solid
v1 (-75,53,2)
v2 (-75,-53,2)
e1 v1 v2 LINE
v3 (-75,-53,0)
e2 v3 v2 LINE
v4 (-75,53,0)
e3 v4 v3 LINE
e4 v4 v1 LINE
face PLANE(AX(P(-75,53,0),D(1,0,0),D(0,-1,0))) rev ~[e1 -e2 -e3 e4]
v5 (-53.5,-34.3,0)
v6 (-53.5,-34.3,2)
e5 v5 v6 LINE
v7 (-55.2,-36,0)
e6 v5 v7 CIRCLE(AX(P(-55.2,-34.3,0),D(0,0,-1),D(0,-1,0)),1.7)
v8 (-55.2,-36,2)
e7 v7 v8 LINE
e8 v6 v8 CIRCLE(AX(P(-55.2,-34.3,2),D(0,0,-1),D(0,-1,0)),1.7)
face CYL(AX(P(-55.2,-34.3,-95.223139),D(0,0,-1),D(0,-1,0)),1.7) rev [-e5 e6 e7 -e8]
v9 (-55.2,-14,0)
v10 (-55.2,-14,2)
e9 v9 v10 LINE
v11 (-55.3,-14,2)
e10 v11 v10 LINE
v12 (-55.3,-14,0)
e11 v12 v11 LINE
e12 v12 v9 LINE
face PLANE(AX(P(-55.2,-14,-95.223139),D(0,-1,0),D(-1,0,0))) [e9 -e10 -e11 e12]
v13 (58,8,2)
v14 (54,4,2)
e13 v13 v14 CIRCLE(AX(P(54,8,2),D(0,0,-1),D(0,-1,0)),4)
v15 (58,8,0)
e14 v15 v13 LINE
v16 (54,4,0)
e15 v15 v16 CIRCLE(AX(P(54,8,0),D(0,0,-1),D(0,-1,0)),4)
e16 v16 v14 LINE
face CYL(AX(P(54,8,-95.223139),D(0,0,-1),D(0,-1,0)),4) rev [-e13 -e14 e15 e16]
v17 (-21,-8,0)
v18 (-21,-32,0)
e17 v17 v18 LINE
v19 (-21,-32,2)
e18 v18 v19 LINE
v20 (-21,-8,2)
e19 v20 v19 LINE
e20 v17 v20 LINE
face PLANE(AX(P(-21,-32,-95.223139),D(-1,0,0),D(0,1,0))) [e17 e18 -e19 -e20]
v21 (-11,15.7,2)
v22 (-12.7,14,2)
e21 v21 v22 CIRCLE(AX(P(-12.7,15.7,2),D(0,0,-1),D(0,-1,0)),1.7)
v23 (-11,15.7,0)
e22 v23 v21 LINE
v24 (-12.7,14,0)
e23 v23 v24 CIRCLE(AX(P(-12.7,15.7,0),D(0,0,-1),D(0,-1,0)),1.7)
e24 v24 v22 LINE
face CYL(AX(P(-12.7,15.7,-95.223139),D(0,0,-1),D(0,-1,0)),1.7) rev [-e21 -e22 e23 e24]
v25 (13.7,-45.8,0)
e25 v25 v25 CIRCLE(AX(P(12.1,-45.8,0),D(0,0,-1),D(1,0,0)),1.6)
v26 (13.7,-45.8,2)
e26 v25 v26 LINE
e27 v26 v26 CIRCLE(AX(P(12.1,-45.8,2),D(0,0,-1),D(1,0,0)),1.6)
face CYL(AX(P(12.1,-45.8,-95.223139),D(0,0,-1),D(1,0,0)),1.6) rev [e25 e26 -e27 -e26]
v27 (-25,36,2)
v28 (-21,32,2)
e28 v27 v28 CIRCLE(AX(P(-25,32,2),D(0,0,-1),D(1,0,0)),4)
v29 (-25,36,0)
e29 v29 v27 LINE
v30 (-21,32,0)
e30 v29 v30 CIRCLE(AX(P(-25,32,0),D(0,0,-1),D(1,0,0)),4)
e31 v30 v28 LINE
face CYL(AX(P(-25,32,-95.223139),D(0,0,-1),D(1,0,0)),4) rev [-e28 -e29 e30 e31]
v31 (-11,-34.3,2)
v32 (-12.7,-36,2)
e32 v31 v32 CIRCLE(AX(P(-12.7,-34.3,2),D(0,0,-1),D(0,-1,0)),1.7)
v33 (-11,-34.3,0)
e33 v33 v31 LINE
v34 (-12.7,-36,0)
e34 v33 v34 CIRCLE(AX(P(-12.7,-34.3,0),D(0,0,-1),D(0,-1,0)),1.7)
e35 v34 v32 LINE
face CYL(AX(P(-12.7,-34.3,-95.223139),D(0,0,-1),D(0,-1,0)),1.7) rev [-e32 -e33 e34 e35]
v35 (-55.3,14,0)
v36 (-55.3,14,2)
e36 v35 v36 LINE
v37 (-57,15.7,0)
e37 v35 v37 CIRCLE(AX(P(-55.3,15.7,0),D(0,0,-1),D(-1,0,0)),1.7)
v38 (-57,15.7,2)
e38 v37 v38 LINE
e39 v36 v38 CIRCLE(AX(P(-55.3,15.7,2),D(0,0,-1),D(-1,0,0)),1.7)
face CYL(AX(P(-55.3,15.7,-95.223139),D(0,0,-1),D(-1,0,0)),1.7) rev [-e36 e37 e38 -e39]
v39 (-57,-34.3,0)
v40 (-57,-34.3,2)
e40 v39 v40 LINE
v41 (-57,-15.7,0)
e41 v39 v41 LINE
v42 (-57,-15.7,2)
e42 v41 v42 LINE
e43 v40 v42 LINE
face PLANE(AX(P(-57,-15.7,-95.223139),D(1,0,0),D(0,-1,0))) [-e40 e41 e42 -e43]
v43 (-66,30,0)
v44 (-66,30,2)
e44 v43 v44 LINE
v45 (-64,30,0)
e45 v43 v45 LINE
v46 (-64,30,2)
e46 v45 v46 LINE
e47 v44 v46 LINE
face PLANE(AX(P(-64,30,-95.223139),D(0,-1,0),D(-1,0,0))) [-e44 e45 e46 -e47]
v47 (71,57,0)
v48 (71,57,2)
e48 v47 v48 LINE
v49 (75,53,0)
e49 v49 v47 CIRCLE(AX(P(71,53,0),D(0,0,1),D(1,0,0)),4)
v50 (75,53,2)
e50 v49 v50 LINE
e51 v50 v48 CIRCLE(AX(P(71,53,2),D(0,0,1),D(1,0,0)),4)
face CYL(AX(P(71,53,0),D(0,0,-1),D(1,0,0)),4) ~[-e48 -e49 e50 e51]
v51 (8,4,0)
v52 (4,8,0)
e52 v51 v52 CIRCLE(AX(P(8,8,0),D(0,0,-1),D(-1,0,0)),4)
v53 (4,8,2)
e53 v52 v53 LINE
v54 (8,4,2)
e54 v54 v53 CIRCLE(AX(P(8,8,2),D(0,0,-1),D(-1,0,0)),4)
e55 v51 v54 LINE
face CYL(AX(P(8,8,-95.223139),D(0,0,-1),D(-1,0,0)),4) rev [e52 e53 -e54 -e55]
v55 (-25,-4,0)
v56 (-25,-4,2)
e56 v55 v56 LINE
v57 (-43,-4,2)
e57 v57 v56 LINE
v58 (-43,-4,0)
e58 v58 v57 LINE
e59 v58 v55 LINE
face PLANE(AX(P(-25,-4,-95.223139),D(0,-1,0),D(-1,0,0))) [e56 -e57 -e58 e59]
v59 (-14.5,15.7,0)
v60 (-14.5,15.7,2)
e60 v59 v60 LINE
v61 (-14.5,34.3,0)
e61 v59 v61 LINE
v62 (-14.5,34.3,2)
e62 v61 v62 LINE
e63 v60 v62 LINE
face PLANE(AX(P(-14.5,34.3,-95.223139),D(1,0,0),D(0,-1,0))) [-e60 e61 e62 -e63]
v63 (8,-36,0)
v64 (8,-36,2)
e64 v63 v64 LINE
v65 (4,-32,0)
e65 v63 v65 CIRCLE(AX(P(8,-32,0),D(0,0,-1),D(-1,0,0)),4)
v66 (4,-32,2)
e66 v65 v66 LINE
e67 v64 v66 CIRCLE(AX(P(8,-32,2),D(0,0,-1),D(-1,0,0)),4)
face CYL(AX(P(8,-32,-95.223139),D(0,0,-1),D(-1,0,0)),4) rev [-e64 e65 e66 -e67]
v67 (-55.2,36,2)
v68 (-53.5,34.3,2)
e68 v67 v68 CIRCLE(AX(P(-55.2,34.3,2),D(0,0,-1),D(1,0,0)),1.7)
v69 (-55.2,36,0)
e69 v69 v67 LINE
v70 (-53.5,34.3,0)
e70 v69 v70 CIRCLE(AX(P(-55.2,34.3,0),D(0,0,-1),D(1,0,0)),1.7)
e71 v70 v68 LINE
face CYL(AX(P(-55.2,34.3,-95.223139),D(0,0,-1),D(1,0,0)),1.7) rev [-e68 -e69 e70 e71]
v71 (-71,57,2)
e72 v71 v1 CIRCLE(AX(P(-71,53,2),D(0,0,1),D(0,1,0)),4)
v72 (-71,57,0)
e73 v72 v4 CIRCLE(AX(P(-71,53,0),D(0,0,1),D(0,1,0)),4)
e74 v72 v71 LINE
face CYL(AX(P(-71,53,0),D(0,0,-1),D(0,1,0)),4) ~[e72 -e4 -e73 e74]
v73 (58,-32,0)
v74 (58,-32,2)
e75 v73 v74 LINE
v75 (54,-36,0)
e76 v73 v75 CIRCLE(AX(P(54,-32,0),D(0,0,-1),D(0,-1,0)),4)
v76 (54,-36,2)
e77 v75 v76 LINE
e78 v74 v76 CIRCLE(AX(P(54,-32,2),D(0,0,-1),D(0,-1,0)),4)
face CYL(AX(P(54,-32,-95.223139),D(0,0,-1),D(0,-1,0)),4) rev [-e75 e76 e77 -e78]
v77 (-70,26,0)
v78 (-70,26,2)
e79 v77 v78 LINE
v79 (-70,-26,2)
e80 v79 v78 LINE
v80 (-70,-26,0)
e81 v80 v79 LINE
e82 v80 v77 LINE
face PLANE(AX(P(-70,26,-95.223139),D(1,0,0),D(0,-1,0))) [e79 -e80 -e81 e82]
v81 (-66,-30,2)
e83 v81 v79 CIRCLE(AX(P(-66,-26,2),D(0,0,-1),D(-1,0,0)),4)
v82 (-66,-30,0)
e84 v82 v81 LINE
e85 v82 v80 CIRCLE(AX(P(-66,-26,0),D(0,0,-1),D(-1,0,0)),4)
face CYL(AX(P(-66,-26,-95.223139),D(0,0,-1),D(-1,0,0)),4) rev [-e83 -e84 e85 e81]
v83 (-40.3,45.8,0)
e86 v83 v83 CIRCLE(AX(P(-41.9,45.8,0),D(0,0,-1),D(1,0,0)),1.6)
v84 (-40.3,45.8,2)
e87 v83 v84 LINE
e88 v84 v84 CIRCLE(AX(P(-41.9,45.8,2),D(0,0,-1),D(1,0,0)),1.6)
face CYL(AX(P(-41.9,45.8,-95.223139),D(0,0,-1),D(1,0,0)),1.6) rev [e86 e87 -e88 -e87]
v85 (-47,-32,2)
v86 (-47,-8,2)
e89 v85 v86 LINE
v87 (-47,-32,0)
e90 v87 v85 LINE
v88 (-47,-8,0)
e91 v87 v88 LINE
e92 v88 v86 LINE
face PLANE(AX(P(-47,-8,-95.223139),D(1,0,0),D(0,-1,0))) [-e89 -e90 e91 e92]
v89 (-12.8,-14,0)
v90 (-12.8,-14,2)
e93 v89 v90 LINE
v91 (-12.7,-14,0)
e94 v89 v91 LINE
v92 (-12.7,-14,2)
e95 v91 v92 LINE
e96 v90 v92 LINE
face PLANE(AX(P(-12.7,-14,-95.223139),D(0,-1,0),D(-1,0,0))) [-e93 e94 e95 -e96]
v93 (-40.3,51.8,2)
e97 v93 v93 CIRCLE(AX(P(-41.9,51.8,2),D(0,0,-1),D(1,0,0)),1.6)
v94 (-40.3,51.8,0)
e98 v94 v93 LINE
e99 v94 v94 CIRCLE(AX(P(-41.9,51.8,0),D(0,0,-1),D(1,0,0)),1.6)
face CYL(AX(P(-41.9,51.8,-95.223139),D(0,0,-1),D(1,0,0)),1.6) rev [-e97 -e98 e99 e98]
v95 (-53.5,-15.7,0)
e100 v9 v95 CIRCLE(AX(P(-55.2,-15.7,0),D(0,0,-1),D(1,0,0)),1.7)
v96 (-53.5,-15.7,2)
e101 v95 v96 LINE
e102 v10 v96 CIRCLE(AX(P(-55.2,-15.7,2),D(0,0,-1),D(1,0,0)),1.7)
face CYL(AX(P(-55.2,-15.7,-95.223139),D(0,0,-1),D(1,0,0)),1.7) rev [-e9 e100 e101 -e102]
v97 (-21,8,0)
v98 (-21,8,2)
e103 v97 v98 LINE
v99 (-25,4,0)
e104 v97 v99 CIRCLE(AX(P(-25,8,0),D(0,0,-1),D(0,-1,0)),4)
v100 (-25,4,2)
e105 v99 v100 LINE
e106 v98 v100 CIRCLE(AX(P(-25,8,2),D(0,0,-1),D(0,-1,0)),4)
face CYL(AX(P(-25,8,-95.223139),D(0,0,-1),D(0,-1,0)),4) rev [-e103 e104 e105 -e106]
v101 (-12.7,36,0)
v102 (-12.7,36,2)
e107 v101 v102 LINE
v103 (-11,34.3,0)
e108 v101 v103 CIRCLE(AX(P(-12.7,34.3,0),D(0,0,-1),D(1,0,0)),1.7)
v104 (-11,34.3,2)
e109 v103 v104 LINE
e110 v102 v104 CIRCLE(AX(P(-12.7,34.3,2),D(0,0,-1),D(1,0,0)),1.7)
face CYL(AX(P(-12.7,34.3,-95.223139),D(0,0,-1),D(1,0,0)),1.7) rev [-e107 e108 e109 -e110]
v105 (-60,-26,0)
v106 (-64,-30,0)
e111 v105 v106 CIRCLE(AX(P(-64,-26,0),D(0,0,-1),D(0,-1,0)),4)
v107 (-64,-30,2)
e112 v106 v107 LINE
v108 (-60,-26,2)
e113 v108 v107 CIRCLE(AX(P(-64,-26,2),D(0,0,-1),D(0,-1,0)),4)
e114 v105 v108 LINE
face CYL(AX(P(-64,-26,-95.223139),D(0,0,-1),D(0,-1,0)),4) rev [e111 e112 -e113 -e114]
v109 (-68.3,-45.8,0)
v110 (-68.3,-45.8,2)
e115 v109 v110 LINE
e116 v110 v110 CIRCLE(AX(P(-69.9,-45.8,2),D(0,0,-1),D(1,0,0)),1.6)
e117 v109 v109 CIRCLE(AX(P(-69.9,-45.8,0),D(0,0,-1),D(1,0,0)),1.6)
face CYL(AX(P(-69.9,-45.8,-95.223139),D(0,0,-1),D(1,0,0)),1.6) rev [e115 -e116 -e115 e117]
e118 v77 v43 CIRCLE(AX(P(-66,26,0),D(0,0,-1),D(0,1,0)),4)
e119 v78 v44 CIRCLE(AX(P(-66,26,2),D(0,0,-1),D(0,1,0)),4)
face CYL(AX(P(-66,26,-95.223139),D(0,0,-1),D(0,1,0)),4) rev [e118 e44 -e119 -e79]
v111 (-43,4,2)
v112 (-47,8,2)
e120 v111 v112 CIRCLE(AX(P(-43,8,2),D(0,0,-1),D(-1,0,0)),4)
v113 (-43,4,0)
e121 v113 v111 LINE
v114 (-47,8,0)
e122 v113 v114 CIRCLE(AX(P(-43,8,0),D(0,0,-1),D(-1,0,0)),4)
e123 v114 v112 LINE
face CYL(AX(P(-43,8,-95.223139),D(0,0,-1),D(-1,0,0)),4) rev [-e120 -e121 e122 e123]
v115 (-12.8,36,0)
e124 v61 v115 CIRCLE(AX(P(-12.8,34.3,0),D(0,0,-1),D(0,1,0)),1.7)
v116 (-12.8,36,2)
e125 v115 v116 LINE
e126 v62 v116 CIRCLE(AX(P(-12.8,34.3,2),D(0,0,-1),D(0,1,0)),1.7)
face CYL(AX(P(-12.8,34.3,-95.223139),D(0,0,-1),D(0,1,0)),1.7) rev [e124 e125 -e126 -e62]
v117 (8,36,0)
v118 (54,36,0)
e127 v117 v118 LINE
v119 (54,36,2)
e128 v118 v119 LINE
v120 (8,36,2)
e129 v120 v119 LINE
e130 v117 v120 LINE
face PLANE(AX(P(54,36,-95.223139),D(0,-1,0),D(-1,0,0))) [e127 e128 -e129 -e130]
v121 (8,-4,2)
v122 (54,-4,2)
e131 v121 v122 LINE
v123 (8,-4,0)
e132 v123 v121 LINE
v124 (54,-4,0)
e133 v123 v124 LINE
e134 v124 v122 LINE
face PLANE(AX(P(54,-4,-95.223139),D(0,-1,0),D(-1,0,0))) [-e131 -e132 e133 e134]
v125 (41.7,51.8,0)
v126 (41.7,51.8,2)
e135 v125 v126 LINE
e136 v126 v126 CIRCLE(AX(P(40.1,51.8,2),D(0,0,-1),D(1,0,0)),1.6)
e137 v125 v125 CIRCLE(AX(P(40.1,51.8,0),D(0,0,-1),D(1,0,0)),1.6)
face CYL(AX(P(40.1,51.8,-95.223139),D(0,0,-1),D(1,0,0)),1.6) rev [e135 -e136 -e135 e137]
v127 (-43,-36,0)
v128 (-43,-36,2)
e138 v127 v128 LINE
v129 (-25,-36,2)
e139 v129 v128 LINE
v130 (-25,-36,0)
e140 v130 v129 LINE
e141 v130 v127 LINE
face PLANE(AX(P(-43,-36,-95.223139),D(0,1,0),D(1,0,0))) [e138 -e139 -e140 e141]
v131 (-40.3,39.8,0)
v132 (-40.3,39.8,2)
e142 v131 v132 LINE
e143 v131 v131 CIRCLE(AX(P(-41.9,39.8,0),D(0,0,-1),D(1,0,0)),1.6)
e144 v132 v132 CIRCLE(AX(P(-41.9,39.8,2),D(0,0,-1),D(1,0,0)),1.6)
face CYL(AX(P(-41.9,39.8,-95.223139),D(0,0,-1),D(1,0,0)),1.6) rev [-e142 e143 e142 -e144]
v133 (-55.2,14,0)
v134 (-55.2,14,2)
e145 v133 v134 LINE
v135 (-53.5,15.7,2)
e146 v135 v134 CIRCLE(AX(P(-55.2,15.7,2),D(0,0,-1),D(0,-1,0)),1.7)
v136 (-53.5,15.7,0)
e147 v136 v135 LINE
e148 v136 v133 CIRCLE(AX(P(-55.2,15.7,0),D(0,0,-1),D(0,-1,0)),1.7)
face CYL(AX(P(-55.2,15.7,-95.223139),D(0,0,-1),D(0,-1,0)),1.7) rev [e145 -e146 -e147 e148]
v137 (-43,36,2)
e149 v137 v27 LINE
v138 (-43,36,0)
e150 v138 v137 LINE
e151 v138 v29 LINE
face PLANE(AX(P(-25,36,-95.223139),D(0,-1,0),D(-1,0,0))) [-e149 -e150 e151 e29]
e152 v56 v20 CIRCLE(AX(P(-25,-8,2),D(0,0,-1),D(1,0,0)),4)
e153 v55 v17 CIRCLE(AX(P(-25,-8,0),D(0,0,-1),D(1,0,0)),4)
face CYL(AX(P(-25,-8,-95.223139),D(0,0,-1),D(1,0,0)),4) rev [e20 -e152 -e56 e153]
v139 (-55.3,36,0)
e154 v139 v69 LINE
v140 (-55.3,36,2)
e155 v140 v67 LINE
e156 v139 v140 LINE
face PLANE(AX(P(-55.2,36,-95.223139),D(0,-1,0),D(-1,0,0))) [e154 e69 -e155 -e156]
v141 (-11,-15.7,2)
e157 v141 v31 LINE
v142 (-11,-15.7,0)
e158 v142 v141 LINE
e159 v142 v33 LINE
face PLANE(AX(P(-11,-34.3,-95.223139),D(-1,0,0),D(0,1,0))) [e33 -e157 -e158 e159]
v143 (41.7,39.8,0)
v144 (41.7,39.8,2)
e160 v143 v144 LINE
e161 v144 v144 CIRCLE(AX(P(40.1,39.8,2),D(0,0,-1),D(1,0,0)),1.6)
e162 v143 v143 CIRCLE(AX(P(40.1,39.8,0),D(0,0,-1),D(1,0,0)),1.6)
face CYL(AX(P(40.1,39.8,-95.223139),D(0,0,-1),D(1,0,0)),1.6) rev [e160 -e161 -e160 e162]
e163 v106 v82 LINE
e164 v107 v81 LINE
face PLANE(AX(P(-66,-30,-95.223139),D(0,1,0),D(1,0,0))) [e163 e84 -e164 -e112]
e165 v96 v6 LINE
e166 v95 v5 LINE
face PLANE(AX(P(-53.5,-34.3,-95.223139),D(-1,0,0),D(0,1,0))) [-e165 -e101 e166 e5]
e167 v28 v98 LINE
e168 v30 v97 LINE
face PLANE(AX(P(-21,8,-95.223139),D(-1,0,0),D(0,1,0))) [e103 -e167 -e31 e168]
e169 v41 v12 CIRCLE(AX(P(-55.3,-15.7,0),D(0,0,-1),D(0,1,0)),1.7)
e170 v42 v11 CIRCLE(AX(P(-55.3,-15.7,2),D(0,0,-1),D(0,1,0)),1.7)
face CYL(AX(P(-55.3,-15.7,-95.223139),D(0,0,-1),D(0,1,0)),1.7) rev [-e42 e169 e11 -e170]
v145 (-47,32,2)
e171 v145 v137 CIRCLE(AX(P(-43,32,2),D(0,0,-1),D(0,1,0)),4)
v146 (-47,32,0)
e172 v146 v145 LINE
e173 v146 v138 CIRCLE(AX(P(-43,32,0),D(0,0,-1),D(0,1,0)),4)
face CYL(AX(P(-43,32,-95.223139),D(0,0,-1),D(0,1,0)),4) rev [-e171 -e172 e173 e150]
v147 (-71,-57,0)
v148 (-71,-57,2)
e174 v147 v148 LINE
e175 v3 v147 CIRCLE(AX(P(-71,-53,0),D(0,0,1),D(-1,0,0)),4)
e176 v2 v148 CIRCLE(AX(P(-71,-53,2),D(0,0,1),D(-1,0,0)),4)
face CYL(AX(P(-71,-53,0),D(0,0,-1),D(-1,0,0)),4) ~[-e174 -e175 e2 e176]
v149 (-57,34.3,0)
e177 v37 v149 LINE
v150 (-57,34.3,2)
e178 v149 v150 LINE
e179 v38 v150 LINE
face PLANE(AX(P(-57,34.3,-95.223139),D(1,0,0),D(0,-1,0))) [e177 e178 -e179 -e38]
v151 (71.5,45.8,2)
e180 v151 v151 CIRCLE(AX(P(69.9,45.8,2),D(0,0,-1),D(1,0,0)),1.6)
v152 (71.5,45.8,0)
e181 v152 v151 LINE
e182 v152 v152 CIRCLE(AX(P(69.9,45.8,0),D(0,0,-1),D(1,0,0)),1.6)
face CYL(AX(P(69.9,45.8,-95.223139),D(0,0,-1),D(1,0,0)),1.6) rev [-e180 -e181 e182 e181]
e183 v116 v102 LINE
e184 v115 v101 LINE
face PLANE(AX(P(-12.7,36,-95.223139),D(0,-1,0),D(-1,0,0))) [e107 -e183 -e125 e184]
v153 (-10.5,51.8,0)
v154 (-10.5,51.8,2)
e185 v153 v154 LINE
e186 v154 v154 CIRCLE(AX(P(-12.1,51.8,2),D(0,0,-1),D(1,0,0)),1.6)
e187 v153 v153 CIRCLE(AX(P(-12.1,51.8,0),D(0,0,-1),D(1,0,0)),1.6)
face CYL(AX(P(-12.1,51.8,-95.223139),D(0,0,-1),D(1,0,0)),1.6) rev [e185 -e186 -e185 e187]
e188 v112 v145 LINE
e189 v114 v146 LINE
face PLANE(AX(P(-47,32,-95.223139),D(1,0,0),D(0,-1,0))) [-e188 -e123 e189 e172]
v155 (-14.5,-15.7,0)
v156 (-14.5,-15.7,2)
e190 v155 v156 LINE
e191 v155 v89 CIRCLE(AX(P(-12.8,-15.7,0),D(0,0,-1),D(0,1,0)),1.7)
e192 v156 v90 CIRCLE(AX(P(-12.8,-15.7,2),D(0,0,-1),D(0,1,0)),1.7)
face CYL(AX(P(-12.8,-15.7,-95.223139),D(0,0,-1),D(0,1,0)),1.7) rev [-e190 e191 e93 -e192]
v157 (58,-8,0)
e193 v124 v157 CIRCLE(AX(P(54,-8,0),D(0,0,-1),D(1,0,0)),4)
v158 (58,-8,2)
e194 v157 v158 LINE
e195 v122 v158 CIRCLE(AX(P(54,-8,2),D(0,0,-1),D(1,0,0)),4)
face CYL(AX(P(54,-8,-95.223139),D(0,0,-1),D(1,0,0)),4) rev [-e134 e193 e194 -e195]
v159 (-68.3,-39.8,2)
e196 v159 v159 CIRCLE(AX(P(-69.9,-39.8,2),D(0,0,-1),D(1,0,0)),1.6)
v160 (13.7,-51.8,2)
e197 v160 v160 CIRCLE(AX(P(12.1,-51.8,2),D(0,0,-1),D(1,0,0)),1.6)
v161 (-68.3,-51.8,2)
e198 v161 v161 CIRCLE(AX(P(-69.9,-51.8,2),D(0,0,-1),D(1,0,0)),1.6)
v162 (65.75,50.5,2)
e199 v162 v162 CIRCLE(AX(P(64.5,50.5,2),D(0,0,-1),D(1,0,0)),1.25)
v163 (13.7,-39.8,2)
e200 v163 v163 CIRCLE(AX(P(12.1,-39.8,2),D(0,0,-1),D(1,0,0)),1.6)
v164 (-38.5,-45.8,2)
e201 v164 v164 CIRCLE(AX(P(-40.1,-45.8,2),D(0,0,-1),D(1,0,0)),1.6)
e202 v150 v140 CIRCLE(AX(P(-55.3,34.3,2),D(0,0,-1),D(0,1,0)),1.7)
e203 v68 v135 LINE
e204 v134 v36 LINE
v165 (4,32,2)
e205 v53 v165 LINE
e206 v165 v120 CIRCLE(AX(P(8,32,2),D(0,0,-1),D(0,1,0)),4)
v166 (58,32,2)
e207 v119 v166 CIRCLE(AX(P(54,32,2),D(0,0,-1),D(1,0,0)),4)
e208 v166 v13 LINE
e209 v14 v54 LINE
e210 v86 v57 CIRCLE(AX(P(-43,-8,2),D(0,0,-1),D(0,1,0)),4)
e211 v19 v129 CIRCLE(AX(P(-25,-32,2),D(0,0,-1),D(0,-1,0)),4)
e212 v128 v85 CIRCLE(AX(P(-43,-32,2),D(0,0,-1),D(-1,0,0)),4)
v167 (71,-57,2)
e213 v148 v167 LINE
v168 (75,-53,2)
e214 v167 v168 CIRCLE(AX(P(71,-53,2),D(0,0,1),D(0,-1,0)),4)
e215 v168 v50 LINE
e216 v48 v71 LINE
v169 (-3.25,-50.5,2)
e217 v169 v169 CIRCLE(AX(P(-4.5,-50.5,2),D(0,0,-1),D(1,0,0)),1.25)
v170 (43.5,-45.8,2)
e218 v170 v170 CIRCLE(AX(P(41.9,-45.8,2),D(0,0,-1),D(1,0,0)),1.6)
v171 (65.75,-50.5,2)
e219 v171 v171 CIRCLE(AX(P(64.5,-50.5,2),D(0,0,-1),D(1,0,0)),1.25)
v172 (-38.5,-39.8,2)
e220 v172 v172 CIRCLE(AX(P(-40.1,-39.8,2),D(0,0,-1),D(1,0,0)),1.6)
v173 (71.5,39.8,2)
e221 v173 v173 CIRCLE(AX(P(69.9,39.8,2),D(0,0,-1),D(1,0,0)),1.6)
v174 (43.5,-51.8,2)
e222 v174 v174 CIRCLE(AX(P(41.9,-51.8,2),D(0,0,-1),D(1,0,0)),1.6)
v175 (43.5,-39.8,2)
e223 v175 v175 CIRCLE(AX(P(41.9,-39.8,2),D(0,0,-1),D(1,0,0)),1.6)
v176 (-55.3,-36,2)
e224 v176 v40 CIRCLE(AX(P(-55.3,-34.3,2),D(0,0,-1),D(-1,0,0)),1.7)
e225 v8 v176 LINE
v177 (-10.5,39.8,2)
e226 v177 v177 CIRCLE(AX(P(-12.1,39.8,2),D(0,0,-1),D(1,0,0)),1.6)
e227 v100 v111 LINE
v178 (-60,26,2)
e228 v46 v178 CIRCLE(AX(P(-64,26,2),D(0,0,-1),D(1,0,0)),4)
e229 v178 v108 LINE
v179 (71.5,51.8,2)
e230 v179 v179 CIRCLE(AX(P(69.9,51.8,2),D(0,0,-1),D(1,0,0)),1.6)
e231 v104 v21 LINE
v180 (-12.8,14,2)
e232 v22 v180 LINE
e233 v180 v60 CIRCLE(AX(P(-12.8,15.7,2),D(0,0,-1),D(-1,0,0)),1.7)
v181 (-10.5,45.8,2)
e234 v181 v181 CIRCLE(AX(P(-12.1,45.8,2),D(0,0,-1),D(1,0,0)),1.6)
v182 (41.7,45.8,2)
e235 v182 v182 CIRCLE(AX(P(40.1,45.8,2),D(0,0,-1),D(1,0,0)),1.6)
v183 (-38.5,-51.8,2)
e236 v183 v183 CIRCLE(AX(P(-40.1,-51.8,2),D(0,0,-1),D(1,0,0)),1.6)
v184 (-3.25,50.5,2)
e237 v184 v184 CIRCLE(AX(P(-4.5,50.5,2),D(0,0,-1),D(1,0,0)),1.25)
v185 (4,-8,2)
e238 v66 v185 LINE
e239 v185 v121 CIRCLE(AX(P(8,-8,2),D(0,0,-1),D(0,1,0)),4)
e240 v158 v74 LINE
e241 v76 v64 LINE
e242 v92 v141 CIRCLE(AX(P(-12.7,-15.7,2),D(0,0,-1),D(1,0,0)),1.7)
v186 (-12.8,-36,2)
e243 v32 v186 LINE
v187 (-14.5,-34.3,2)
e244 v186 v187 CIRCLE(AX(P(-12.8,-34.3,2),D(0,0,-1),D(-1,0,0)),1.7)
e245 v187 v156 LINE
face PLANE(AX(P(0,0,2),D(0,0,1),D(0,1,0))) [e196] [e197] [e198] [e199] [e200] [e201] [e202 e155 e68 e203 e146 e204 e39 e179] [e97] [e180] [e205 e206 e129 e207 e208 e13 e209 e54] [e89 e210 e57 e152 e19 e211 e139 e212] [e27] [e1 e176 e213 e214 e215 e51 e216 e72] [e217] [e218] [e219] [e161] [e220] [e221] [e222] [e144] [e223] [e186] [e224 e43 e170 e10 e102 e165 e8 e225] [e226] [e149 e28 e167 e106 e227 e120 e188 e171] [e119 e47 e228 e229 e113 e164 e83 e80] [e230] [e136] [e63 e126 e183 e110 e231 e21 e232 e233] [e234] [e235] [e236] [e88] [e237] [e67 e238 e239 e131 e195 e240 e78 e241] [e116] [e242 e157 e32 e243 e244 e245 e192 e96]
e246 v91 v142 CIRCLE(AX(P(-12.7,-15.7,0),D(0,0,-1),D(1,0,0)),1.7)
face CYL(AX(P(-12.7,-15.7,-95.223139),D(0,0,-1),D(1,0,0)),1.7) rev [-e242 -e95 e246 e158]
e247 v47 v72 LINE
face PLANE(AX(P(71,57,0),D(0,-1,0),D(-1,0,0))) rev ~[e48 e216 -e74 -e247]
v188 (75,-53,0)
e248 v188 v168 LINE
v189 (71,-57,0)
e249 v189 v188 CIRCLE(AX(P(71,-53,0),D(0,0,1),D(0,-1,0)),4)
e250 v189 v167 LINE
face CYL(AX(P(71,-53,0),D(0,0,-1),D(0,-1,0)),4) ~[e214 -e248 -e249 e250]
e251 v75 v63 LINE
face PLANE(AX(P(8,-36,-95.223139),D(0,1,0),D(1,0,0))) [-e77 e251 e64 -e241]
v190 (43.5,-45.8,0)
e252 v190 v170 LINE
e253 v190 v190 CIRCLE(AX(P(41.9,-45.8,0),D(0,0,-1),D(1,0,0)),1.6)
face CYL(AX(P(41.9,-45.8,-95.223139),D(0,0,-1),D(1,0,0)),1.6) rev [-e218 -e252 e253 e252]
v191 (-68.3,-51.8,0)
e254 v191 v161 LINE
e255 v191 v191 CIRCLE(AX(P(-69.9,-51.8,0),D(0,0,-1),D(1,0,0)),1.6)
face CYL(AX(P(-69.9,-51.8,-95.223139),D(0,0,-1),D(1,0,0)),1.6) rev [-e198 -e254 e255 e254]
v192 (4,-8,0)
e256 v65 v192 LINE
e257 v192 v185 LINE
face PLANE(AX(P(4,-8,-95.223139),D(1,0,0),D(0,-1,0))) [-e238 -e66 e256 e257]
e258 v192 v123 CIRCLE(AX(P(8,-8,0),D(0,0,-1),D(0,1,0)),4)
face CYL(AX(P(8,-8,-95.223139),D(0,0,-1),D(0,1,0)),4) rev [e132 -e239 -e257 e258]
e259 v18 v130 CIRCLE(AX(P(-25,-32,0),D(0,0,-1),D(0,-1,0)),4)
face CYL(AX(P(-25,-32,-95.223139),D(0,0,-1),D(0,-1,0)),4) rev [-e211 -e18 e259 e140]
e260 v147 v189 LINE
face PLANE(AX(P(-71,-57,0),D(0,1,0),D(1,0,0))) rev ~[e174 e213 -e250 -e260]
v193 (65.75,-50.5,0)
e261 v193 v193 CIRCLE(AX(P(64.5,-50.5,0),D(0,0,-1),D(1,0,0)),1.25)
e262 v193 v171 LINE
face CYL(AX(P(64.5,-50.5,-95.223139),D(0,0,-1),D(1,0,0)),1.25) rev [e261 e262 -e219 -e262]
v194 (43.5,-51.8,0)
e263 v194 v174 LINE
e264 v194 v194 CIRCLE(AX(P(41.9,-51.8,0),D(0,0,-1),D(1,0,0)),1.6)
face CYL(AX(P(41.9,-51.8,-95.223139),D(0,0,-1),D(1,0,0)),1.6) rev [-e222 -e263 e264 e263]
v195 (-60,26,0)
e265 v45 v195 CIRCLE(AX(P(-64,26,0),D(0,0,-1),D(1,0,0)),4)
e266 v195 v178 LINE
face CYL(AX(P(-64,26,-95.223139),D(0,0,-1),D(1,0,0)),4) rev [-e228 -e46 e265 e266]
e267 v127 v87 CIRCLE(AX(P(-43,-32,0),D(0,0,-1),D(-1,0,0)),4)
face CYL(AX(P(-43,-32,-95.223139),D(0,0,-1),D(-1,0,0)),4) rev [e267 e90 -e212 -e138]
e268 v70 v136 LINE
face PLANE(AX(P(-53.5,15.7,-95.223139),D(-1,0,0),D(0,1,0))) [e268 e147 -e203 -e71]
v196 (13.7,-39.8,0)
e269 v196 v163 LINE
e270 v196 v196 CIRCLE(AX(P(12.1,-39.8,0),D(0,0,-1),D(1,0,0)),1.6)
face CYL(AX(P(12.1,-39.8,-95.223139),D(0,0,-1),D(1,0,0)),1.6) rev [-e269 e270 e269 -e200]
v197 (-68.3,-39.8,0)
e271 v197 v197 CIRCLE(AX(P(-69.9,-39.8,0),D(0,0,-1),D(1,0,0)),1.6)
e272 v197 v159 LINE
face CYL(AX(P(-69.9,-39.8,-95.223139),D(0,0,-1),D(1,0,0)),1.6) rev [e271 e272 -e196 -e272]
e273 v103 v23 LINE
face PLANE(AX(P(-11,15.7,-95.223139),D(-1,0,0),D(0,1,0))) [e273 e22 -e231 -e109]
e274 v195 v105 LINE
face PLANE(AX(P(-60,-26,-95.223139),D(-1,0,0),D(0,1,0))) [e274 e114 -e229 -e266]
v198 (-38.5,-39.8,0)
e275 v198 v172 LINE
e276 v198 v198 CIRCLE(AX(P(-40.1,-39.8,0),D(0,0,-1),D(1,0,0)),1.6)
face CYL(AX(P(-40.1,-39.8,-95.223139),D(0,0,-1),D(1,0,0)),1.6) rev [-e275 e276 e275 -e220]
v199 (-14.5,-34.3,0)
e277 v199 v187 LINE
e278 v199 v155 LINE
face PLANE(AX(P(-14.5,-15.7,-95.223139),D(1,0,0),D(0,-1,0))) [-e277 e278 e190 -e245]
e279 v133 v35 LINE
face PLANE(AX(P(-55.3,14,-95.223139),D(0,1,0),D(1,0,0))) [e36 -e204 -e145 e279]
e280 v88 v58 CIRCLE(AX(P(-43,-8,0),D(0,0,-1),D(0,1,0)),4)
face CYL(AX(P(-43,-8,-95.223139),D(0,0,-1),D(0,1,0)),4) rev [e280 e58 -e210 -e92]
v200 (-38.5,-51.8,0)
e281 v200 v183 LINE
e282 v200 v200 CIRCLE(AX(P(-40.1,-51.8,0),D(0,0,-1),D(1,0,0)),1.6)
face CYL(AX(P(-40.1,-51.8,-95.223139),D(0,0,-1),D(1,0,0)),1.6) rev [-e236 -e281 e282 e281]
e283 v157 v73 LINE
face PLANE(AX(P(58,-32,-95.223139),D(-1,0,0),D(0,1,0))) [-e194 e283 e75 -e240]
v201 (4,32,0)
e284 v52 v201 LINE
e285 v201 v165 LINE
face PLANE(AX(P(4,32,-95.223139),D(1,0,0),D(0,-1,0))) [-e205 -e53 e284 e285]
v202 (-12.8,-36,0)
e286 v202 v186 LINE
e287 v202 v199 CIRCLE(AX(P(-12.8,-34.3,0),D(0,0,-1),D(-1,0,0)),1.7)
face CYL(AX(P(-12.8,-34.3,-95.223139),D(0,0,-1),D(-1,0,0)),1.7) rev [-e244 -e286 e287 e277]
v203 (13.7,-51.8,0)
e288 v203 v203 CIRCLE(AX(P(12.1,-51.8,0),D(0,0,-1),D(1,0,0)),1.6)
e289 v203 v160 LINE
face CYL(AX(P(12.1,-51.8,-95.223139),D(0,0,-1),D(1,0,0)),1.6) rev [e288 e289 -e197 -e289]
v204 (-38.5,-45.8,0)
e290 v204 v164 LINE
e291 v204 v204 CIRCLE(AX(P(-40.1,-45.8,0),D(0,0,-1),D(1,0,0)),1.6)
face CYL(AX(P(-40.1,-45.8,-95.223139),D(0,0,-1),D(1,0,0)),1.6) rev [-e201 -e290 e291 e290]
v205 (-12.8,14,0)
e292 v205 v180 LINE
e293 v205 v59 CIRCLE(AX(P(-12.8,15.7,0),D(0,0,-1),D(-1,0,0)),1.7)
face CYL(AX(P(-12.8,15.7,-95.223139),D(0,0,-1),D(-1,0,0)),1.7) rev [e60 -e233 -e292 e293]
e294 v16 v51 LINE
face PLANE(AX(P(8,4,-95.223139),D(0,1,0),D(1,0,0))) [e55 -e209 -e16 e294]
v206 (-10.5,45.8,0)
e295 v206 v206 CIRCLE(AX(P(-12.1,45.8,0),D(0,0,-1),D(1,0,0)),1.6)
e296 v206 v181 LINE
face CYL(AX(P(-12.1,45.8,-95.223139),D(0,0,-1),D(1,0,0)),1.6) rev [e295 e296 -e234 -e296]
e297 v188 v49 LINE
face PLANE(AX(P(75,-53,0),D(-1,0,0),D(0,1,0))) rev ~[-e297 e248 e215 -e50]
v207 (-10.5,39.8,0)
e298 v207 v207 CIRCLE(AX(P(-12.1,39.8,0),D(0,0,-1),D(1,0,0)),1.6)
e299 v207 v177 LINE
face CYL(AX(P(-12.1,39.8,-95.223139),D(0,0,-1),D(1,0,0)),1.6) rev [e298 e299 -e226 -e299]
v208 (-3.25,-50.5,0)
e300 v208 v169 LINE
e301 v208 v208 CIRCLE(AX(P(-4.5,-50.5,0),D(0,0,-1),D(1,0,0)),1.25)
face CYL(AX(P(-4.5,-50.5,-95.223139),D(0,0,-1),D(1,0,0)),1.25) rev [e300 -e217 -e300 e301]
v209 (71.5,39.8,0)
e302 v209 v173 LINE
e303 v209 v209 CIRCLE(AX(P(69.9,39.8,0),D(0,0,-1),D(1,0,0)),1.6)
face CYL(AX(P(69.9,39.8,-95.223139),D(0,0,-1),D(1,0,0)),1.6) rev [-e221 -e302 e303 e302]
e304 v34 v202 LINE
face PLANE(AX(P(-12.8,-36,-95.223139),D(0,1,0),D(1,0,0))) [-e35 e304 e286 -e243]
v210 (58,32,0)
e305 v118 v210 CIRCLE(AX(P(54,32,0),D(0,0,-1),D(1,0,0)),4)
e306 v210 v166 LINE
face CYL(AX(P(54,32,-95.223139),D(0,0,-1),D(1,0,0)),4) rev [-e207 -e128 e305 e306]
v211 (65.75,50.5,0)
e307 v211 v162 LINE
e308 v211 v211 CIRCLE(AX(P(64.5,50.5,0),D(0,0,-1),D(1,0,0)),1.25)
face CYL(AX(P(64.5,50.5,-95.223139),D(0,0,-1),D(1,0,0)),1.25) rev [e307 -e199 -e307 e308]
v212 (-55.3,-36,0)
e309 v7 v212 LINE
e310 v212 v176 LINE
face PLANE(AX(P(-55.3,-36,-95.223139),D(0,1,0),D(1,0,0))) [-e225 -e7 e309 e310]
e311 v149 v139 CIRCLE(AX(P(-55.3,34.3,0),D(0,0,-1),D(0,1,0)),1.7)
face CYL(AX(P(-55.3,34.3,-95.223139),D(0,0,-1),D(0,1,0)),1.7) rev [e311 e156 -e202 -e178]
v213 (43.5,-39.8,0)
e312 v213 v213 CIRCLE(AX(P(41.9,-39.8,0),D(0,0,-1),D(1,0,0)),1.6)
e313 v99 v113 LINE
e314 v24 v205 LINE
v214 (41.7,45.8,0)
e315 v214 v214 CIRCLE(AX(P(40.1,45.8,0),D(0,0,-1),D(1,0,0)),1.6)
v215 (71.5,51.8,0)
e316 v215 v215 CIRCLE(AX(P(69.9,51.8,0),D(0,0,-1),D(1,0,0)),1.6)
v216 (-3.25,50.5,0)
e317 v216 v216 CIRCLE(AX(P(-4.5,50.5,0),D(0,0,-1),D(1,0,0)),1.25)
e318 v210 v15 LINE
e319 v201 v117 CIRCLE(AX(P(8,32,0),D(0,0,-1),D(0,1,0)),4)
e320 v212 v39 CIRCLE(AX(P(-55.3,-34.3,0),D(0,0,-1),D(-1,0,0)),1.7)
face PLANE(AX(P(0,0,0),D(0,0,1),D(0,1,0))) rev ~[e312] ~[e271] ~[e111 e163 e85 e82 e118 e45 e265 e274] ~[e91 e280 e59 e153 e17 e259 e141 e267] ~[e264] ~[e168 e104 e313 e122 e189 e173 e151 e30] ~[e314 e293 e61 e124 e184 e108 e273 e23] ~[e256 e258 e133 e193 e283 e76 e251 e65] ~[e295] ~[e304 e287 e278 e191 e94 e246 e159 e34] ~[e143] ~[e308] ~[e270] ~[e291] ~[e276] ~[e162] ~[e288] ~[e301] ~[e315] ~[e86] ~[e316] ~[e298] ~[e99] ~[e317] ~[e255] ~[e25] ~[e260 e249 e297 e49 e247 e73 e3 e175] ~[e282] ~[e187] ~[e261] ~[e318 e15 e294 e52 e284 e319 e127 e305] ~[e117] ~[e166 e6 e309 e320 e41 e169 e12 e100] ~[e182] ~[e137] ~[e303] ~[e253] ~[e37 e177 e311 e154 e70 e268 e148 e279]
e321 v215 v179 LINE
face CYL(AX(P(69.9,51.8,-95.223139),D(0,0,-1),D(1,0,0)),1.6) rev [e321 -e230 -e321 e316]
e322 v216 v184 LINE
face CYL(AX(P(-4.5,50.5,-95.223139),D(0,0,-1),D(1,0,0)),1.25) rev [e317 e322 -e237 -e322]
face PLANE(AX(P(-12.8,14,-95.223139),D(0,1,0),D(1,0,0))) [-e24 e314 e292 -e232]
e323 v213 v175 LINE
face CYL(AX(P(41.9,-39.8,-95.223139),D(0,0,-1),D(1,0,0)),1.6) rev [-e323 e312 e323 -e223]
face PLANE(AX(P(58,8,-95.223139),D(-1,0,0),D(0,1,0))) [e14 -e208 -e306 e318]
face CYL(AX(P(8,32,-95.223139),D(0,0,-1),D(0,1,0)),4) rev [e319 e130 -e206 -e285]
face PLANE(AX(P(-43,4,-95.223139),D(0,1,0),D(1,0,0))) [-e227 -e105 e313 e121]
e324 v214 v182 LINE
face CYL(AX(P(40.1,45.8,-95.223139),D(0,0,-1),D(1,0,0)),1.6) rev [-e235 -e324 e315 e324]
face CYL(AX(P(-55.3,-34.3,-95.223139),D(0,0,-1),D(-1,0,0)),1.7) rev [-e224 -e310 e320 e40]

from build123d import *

# Parameters (mm, degrees)
BOSS_EXTRUDE1_DEPTH     = 2
CUT_EXTRUDE6_DEPTH      = 95.223139409
CUT_EXTRUDE6_DEPTH_BACK = 95.223139409
SKETCH2_R               = 1.6
SKETCH2_R_2             = 1.25


with BuildPart() as part:
    # Sketch1 → Boss-Extrude1 (new body)
    with BuildSketch(Plane(origin=(0, 0, 0), x_dir=(0, 1, 0), z_dir=(0, 0, 1))):
        with BuildLine():
            Line((-53, -75), (53, -75))
            ThreePointArc((53, -75), (55.828427125, -73.828427125), (57, -71))
            Line((57, -71), (57, 71))
            ThreePointArc((57, 71), (55.828427125, 73.828427125), (53, 75))
            Line((53, 75), (-53, 75))
            ThreePointArc((-53, 75), (-55.828427125, 73.828427125), (-57, 71))
            Line((-57, 71), (-57, -71))
            ThreePointArc((-57, -71), (-55.828427125, -73.828427125), (-53, -75))
        make_face()
    extrude(amount=BOSS_EXTRUDE1_DEPTH)

    # Sketch2 → Cut-Extrude6 (cut, two sides: drawn at the far end of the back side and taken through both)
    with BuildSketch(Plane(origin=(0, 0, 0), x_dir=(0, 1, 0), z_dir=(0, 0, 1)).offset(-CUT_EXTRUDE6_DEPTH_BACK)):
        with Locations(Location((-51.8, 40.1, 0), (0, 0, 270))):
            Circle(SKETCH2_R)
        with Locations(Location((-51.8, 69.9, 0), (0, 0, 270))):
            Circle(SKETCH2_R)
        with Locations(Location((-45.8, 40.1, 0), (0, 0, 270))):
            Circle(SKETCH2_R)
        with Locations(Location((-45.8, 69.9, 0), (0, 0, 270))):
            Circle(SKETCH2_R)
        with Locations(Location((-39.8, 40.1, 0), (0, 0, 270))):
            Circle(SKETCH2_R)
        with Locations(Location((-39.8, 69.9, 0), (0, 0, 270))):
            Circle(SKETCH2_R)
        with Locations(Location((-51.8, -41.9, 0), (0, 0, 270))):
            Circle(SKETCH2_R)
        with Locations(Location((-51.8, -12.1, 0), (0, 0, 270))):
            Circle(SKETCH2_R)
        with Locations(Location((-45.8, -41.9, 0), (0, 0, 270))):
            Circle(SKETCH2_R)
        with Locations(Location((-45.8, -12.1, 0), (0, 0, 270))):
            Circle(SKETCH2_R)
        with Locations(Location((-39.8, -41.9, 0), (0, 0, 270))):
            Circle(SKETCH2_R)
        with Locations(Location((-39.8, -12.1, 0), (0, 0, 270))):
            Circle(SKETCH2_R)
        with Locations(Location((51.8, 12.1, 0), (0, 0, 270))):
            Circle(SKETCH2_R)
        with Locations(Location((51.8, 41.9, 0), (0, 0, 270))):
            Circle(SKETCH2_R)
        with Locations(Location((45.8, 12.1, 0), (0, 0, 270))):
            Circle(SKETCH2_R)
        with Locations(Location((45.8, 41.9, 0), (0, 0, 270))):
            Circle(SKETCH2_R)
        with Locations(Location((39.8, 12.1, 0), (0, 0, 270))):
            Circle(SKETCH2_R)
        with Locations(Location((39.8, 41.9, 0), (0, 0, 270))):
            Circle(SKETCH2_R)
        with Locations(Location((51.8, -69.9, 0), (0, 0, 270))):
            Circle(SKETCH2_R)
        with Locations(Location((51.8, -40.1, 0), (0, 0, 270))):
            Circle(SKETCH2_R)
        with Locations(Location((45.8, -69.9, 0), (0, 0, 270))):
            Circle(SKETCH2_R)
        with Locations(Location((45.8, -40.1, 0), (0, 0, 270))):
            Circle(SKETCH2_R)
        with Locations(Location((39.8, -69.9, 0), (0, 0, 270))):
            Circle(SKETCH2_R)
        with Locations(Location((39.8, -40.1, 0), (0, 0, 270))):
            Circle(SKETCH2_R)
        with Locations(Location((-50.5, -64.5, 0), (0, 0, 270))):
            Circle(SKETCH2_R_2)
        with Locations(Location((-50.5, 4.5, 0), (0, 0, 270))):
            Circle(SKETCH2_R_2)
        with Locations(Location((50.5, -64.5, 0), (0, 0, 270))):
            Circle(SKETCH2_R_2)
        with Locations(Location((50.5, 4.5, 0), (0, 0, 270))):
            Circle(SKETCH2_R_2)
        with BuildLine():
            Line((-34.3, 11), (-15.7, 11))
            ThreePointArc((-15.7, 11), (-14.497918472, 11.497918472), (-14, 12.7))
            Line((-14, 12.7), (-14, 12.8))
            ThreePointArc((-14, 12.8), (-14.497918472, 14.002081528), (-15.7, 14.5))
            Line((-15.7, 14.5), (-34.3, 14.5))
            ThreePointArc((-34.3, 14.5), (-35.502081528, 14.002081528), (-36, 12.8))
            Line((-36, 12.8), (-36, 12.7))
            ThreePointArc((-36, 12.7), (-35.502081528, 11.497918472), (-34.3, 11))
        make_face()
        with BuildLine():
            Line((-34.3, 53.5), (-15.7, 53.5))
            ThreePointArc((-15.7, 53.5), (-14.497918472, 53.997918472), (-14, 55.2))
            Line((-14, 55.2), (-14, 55.3))
            ThreePointArc((-14, 55.3), (-14.497918472, 56.502081528), (-15.7, 57))
            Line((-15.7, 57), (-34.3, 57))
            ThreePointArc((-34.3, 57), (-35.502081528, 56.502081528), (-36, 55.3))
            Line((-36, 55.3), (-36, 55.2))
            ThreePointArc((-36, 55.2), (-35.502081528, 53.997918472), (-34.3, 53.5))
        make_face()
        with BuildLine():
            Line((15.7, 11), (34.3, 11))
            ThreePointArc((34.3, 11), (35.502081528, 11.497918472), (36, 12.7))
            Line((36, 12.7), (36, 12.8))
            ThreePointArc((36, 12.8), (35.502081528, 14.002081528), (34.3, 14.5))
            Line((34.3, 14.5), (15.7, 14.5))
            ThreePointArc((15.7, 14.5), (14.497918472, 14.002081528), (14, 12.8))
            Line((14, 12.8), (14, 12.7))
            ThreePointArc((14, 12.7), (14.497918472, 11.497918472), (15.7, 11))
        make_face()
        with BuildLine():
            Line((15.7, 53.5), (34.3, 53.5))
            ThreePointArc((34.3, 53.5), (35.502081528, 53.997918472), (36, 55.2))
            Line((36, 55.2), (36, 55.3))
            ThreePointArc((36, 55.3), (35.502081528, 56.502081528), (34.3, 57))
            Line((34.3, 57), (15.7, 57))
            ThreePointArc((15.7, 57), (14.497918472, 56.502081528), (14, 55.3))
            Line((14, 55.3), (14, 55.2))
            ThreePointArc((14, 55.2), (14.497918472, 53.997918472), (15.7, 53.5))
        make_face()
        with BuildLine():
            Line((-32, -58), (-8, -58))
            ThreePointArc((-8, -58), (-5.171572875, -56.828427125), (-4, -54))
            Line((-4, -54), (-4, -8))
            ThreePointArc((-4, -8), (-5.171572875, -5.171572875), (-8, -4))
            Line((-8, -4), (-32, -4))
            ThreePointArc((-32, -4), (-34.828427125, -5.171572875), (-36, -8))
            Line((-36, -8), (-36, -54))
            ThreePointArc((-36, -54), (-34.828427125, -56.828427125), (-32, -58))
        make_face()
        with BuildLine():
            Line((-32, 21), (-8, 21))
            ThreePointArc((-8, 21), (-5.171572875, 22.171572875), (-4, 25))
            Line((-4, 25), (-4, 43))
            ThreePointArc((-4, 43), (-5.171572875, 45.828427125), (-8, 47))
            Line((-8, 47), (-32, 47))
            ThreePointArc((-32, 47), (-34.828427125, 45.828427125), (-36, 43))
            Line((-36, 43), (-36, 25))
            ThreePointArc((-36, 25), (-34.828427125, 22.171572875), (-32, 21))
        make_face()
        with BuildLine():
            Line((8, -58), (32, -58))
            ThreePointArc((32, -58), (34.828427125, -56.828427125), (36, -54))
            Line((36, -54), (36, -8))
            ThreePointArc((36, -8), (34.828427125, -5.171572875), (32, -4))
            Line((32, -4), (8, -4))
            ThreePointArc((8, -4), (5.171572875, -5.171572875), (4, -8))
            Line((4, -8), (4, -54))
            ThreePointArc((4, -54), (5.171572875, -56.828427125), (8, -58))
        make_face()
        with BuildLine():
            Line((8, 21), (32, 21))
            ThreePointArc((32, 21), (34.828427125, 22.171572875), (36, 25))
            Line((36, 25), (36, 43))
            ThreePointArc((36, 43), (34.828427125, 45.828427125), (32, 47))
            Line((32, 47), (8, 47))
            ThreePointArc((8, 47), (5.171572875, 45.828427125), (4, 43))
            Line((4, 43), (4, 25))
            ThreePointArc((4, 25), (5.171572875, 22.171572875), (8, 21))
        make_face()
        with BuildLine():
            Line((-26, 60), (26, 60))
            ThreePointArc((26, 60), (28.828427125, 61.171572875), (30, 64))
            Line((30, 64), (30, 66))
            ThreePointArc((30, 66), (28.828427125, 68.828427125), (26, 70))
            Line((26, 70), (-26, 70))
            ThreePointArc((-26, 70), (-28.828427125, 68.828427125), (-30, 66))
            Line((-30, 66), (-30, 64))
            ThreePointArc((-30, 64), (-28.828427125, 61.171572875), (-26, 60))
        make_face()
    extrude(amount=CUT_EXTRUDE6_DEPTH + CUT_EXTRUDE6_DEPTH_BACK, mode=Mode.SUBTRACT)


solid = part.part
